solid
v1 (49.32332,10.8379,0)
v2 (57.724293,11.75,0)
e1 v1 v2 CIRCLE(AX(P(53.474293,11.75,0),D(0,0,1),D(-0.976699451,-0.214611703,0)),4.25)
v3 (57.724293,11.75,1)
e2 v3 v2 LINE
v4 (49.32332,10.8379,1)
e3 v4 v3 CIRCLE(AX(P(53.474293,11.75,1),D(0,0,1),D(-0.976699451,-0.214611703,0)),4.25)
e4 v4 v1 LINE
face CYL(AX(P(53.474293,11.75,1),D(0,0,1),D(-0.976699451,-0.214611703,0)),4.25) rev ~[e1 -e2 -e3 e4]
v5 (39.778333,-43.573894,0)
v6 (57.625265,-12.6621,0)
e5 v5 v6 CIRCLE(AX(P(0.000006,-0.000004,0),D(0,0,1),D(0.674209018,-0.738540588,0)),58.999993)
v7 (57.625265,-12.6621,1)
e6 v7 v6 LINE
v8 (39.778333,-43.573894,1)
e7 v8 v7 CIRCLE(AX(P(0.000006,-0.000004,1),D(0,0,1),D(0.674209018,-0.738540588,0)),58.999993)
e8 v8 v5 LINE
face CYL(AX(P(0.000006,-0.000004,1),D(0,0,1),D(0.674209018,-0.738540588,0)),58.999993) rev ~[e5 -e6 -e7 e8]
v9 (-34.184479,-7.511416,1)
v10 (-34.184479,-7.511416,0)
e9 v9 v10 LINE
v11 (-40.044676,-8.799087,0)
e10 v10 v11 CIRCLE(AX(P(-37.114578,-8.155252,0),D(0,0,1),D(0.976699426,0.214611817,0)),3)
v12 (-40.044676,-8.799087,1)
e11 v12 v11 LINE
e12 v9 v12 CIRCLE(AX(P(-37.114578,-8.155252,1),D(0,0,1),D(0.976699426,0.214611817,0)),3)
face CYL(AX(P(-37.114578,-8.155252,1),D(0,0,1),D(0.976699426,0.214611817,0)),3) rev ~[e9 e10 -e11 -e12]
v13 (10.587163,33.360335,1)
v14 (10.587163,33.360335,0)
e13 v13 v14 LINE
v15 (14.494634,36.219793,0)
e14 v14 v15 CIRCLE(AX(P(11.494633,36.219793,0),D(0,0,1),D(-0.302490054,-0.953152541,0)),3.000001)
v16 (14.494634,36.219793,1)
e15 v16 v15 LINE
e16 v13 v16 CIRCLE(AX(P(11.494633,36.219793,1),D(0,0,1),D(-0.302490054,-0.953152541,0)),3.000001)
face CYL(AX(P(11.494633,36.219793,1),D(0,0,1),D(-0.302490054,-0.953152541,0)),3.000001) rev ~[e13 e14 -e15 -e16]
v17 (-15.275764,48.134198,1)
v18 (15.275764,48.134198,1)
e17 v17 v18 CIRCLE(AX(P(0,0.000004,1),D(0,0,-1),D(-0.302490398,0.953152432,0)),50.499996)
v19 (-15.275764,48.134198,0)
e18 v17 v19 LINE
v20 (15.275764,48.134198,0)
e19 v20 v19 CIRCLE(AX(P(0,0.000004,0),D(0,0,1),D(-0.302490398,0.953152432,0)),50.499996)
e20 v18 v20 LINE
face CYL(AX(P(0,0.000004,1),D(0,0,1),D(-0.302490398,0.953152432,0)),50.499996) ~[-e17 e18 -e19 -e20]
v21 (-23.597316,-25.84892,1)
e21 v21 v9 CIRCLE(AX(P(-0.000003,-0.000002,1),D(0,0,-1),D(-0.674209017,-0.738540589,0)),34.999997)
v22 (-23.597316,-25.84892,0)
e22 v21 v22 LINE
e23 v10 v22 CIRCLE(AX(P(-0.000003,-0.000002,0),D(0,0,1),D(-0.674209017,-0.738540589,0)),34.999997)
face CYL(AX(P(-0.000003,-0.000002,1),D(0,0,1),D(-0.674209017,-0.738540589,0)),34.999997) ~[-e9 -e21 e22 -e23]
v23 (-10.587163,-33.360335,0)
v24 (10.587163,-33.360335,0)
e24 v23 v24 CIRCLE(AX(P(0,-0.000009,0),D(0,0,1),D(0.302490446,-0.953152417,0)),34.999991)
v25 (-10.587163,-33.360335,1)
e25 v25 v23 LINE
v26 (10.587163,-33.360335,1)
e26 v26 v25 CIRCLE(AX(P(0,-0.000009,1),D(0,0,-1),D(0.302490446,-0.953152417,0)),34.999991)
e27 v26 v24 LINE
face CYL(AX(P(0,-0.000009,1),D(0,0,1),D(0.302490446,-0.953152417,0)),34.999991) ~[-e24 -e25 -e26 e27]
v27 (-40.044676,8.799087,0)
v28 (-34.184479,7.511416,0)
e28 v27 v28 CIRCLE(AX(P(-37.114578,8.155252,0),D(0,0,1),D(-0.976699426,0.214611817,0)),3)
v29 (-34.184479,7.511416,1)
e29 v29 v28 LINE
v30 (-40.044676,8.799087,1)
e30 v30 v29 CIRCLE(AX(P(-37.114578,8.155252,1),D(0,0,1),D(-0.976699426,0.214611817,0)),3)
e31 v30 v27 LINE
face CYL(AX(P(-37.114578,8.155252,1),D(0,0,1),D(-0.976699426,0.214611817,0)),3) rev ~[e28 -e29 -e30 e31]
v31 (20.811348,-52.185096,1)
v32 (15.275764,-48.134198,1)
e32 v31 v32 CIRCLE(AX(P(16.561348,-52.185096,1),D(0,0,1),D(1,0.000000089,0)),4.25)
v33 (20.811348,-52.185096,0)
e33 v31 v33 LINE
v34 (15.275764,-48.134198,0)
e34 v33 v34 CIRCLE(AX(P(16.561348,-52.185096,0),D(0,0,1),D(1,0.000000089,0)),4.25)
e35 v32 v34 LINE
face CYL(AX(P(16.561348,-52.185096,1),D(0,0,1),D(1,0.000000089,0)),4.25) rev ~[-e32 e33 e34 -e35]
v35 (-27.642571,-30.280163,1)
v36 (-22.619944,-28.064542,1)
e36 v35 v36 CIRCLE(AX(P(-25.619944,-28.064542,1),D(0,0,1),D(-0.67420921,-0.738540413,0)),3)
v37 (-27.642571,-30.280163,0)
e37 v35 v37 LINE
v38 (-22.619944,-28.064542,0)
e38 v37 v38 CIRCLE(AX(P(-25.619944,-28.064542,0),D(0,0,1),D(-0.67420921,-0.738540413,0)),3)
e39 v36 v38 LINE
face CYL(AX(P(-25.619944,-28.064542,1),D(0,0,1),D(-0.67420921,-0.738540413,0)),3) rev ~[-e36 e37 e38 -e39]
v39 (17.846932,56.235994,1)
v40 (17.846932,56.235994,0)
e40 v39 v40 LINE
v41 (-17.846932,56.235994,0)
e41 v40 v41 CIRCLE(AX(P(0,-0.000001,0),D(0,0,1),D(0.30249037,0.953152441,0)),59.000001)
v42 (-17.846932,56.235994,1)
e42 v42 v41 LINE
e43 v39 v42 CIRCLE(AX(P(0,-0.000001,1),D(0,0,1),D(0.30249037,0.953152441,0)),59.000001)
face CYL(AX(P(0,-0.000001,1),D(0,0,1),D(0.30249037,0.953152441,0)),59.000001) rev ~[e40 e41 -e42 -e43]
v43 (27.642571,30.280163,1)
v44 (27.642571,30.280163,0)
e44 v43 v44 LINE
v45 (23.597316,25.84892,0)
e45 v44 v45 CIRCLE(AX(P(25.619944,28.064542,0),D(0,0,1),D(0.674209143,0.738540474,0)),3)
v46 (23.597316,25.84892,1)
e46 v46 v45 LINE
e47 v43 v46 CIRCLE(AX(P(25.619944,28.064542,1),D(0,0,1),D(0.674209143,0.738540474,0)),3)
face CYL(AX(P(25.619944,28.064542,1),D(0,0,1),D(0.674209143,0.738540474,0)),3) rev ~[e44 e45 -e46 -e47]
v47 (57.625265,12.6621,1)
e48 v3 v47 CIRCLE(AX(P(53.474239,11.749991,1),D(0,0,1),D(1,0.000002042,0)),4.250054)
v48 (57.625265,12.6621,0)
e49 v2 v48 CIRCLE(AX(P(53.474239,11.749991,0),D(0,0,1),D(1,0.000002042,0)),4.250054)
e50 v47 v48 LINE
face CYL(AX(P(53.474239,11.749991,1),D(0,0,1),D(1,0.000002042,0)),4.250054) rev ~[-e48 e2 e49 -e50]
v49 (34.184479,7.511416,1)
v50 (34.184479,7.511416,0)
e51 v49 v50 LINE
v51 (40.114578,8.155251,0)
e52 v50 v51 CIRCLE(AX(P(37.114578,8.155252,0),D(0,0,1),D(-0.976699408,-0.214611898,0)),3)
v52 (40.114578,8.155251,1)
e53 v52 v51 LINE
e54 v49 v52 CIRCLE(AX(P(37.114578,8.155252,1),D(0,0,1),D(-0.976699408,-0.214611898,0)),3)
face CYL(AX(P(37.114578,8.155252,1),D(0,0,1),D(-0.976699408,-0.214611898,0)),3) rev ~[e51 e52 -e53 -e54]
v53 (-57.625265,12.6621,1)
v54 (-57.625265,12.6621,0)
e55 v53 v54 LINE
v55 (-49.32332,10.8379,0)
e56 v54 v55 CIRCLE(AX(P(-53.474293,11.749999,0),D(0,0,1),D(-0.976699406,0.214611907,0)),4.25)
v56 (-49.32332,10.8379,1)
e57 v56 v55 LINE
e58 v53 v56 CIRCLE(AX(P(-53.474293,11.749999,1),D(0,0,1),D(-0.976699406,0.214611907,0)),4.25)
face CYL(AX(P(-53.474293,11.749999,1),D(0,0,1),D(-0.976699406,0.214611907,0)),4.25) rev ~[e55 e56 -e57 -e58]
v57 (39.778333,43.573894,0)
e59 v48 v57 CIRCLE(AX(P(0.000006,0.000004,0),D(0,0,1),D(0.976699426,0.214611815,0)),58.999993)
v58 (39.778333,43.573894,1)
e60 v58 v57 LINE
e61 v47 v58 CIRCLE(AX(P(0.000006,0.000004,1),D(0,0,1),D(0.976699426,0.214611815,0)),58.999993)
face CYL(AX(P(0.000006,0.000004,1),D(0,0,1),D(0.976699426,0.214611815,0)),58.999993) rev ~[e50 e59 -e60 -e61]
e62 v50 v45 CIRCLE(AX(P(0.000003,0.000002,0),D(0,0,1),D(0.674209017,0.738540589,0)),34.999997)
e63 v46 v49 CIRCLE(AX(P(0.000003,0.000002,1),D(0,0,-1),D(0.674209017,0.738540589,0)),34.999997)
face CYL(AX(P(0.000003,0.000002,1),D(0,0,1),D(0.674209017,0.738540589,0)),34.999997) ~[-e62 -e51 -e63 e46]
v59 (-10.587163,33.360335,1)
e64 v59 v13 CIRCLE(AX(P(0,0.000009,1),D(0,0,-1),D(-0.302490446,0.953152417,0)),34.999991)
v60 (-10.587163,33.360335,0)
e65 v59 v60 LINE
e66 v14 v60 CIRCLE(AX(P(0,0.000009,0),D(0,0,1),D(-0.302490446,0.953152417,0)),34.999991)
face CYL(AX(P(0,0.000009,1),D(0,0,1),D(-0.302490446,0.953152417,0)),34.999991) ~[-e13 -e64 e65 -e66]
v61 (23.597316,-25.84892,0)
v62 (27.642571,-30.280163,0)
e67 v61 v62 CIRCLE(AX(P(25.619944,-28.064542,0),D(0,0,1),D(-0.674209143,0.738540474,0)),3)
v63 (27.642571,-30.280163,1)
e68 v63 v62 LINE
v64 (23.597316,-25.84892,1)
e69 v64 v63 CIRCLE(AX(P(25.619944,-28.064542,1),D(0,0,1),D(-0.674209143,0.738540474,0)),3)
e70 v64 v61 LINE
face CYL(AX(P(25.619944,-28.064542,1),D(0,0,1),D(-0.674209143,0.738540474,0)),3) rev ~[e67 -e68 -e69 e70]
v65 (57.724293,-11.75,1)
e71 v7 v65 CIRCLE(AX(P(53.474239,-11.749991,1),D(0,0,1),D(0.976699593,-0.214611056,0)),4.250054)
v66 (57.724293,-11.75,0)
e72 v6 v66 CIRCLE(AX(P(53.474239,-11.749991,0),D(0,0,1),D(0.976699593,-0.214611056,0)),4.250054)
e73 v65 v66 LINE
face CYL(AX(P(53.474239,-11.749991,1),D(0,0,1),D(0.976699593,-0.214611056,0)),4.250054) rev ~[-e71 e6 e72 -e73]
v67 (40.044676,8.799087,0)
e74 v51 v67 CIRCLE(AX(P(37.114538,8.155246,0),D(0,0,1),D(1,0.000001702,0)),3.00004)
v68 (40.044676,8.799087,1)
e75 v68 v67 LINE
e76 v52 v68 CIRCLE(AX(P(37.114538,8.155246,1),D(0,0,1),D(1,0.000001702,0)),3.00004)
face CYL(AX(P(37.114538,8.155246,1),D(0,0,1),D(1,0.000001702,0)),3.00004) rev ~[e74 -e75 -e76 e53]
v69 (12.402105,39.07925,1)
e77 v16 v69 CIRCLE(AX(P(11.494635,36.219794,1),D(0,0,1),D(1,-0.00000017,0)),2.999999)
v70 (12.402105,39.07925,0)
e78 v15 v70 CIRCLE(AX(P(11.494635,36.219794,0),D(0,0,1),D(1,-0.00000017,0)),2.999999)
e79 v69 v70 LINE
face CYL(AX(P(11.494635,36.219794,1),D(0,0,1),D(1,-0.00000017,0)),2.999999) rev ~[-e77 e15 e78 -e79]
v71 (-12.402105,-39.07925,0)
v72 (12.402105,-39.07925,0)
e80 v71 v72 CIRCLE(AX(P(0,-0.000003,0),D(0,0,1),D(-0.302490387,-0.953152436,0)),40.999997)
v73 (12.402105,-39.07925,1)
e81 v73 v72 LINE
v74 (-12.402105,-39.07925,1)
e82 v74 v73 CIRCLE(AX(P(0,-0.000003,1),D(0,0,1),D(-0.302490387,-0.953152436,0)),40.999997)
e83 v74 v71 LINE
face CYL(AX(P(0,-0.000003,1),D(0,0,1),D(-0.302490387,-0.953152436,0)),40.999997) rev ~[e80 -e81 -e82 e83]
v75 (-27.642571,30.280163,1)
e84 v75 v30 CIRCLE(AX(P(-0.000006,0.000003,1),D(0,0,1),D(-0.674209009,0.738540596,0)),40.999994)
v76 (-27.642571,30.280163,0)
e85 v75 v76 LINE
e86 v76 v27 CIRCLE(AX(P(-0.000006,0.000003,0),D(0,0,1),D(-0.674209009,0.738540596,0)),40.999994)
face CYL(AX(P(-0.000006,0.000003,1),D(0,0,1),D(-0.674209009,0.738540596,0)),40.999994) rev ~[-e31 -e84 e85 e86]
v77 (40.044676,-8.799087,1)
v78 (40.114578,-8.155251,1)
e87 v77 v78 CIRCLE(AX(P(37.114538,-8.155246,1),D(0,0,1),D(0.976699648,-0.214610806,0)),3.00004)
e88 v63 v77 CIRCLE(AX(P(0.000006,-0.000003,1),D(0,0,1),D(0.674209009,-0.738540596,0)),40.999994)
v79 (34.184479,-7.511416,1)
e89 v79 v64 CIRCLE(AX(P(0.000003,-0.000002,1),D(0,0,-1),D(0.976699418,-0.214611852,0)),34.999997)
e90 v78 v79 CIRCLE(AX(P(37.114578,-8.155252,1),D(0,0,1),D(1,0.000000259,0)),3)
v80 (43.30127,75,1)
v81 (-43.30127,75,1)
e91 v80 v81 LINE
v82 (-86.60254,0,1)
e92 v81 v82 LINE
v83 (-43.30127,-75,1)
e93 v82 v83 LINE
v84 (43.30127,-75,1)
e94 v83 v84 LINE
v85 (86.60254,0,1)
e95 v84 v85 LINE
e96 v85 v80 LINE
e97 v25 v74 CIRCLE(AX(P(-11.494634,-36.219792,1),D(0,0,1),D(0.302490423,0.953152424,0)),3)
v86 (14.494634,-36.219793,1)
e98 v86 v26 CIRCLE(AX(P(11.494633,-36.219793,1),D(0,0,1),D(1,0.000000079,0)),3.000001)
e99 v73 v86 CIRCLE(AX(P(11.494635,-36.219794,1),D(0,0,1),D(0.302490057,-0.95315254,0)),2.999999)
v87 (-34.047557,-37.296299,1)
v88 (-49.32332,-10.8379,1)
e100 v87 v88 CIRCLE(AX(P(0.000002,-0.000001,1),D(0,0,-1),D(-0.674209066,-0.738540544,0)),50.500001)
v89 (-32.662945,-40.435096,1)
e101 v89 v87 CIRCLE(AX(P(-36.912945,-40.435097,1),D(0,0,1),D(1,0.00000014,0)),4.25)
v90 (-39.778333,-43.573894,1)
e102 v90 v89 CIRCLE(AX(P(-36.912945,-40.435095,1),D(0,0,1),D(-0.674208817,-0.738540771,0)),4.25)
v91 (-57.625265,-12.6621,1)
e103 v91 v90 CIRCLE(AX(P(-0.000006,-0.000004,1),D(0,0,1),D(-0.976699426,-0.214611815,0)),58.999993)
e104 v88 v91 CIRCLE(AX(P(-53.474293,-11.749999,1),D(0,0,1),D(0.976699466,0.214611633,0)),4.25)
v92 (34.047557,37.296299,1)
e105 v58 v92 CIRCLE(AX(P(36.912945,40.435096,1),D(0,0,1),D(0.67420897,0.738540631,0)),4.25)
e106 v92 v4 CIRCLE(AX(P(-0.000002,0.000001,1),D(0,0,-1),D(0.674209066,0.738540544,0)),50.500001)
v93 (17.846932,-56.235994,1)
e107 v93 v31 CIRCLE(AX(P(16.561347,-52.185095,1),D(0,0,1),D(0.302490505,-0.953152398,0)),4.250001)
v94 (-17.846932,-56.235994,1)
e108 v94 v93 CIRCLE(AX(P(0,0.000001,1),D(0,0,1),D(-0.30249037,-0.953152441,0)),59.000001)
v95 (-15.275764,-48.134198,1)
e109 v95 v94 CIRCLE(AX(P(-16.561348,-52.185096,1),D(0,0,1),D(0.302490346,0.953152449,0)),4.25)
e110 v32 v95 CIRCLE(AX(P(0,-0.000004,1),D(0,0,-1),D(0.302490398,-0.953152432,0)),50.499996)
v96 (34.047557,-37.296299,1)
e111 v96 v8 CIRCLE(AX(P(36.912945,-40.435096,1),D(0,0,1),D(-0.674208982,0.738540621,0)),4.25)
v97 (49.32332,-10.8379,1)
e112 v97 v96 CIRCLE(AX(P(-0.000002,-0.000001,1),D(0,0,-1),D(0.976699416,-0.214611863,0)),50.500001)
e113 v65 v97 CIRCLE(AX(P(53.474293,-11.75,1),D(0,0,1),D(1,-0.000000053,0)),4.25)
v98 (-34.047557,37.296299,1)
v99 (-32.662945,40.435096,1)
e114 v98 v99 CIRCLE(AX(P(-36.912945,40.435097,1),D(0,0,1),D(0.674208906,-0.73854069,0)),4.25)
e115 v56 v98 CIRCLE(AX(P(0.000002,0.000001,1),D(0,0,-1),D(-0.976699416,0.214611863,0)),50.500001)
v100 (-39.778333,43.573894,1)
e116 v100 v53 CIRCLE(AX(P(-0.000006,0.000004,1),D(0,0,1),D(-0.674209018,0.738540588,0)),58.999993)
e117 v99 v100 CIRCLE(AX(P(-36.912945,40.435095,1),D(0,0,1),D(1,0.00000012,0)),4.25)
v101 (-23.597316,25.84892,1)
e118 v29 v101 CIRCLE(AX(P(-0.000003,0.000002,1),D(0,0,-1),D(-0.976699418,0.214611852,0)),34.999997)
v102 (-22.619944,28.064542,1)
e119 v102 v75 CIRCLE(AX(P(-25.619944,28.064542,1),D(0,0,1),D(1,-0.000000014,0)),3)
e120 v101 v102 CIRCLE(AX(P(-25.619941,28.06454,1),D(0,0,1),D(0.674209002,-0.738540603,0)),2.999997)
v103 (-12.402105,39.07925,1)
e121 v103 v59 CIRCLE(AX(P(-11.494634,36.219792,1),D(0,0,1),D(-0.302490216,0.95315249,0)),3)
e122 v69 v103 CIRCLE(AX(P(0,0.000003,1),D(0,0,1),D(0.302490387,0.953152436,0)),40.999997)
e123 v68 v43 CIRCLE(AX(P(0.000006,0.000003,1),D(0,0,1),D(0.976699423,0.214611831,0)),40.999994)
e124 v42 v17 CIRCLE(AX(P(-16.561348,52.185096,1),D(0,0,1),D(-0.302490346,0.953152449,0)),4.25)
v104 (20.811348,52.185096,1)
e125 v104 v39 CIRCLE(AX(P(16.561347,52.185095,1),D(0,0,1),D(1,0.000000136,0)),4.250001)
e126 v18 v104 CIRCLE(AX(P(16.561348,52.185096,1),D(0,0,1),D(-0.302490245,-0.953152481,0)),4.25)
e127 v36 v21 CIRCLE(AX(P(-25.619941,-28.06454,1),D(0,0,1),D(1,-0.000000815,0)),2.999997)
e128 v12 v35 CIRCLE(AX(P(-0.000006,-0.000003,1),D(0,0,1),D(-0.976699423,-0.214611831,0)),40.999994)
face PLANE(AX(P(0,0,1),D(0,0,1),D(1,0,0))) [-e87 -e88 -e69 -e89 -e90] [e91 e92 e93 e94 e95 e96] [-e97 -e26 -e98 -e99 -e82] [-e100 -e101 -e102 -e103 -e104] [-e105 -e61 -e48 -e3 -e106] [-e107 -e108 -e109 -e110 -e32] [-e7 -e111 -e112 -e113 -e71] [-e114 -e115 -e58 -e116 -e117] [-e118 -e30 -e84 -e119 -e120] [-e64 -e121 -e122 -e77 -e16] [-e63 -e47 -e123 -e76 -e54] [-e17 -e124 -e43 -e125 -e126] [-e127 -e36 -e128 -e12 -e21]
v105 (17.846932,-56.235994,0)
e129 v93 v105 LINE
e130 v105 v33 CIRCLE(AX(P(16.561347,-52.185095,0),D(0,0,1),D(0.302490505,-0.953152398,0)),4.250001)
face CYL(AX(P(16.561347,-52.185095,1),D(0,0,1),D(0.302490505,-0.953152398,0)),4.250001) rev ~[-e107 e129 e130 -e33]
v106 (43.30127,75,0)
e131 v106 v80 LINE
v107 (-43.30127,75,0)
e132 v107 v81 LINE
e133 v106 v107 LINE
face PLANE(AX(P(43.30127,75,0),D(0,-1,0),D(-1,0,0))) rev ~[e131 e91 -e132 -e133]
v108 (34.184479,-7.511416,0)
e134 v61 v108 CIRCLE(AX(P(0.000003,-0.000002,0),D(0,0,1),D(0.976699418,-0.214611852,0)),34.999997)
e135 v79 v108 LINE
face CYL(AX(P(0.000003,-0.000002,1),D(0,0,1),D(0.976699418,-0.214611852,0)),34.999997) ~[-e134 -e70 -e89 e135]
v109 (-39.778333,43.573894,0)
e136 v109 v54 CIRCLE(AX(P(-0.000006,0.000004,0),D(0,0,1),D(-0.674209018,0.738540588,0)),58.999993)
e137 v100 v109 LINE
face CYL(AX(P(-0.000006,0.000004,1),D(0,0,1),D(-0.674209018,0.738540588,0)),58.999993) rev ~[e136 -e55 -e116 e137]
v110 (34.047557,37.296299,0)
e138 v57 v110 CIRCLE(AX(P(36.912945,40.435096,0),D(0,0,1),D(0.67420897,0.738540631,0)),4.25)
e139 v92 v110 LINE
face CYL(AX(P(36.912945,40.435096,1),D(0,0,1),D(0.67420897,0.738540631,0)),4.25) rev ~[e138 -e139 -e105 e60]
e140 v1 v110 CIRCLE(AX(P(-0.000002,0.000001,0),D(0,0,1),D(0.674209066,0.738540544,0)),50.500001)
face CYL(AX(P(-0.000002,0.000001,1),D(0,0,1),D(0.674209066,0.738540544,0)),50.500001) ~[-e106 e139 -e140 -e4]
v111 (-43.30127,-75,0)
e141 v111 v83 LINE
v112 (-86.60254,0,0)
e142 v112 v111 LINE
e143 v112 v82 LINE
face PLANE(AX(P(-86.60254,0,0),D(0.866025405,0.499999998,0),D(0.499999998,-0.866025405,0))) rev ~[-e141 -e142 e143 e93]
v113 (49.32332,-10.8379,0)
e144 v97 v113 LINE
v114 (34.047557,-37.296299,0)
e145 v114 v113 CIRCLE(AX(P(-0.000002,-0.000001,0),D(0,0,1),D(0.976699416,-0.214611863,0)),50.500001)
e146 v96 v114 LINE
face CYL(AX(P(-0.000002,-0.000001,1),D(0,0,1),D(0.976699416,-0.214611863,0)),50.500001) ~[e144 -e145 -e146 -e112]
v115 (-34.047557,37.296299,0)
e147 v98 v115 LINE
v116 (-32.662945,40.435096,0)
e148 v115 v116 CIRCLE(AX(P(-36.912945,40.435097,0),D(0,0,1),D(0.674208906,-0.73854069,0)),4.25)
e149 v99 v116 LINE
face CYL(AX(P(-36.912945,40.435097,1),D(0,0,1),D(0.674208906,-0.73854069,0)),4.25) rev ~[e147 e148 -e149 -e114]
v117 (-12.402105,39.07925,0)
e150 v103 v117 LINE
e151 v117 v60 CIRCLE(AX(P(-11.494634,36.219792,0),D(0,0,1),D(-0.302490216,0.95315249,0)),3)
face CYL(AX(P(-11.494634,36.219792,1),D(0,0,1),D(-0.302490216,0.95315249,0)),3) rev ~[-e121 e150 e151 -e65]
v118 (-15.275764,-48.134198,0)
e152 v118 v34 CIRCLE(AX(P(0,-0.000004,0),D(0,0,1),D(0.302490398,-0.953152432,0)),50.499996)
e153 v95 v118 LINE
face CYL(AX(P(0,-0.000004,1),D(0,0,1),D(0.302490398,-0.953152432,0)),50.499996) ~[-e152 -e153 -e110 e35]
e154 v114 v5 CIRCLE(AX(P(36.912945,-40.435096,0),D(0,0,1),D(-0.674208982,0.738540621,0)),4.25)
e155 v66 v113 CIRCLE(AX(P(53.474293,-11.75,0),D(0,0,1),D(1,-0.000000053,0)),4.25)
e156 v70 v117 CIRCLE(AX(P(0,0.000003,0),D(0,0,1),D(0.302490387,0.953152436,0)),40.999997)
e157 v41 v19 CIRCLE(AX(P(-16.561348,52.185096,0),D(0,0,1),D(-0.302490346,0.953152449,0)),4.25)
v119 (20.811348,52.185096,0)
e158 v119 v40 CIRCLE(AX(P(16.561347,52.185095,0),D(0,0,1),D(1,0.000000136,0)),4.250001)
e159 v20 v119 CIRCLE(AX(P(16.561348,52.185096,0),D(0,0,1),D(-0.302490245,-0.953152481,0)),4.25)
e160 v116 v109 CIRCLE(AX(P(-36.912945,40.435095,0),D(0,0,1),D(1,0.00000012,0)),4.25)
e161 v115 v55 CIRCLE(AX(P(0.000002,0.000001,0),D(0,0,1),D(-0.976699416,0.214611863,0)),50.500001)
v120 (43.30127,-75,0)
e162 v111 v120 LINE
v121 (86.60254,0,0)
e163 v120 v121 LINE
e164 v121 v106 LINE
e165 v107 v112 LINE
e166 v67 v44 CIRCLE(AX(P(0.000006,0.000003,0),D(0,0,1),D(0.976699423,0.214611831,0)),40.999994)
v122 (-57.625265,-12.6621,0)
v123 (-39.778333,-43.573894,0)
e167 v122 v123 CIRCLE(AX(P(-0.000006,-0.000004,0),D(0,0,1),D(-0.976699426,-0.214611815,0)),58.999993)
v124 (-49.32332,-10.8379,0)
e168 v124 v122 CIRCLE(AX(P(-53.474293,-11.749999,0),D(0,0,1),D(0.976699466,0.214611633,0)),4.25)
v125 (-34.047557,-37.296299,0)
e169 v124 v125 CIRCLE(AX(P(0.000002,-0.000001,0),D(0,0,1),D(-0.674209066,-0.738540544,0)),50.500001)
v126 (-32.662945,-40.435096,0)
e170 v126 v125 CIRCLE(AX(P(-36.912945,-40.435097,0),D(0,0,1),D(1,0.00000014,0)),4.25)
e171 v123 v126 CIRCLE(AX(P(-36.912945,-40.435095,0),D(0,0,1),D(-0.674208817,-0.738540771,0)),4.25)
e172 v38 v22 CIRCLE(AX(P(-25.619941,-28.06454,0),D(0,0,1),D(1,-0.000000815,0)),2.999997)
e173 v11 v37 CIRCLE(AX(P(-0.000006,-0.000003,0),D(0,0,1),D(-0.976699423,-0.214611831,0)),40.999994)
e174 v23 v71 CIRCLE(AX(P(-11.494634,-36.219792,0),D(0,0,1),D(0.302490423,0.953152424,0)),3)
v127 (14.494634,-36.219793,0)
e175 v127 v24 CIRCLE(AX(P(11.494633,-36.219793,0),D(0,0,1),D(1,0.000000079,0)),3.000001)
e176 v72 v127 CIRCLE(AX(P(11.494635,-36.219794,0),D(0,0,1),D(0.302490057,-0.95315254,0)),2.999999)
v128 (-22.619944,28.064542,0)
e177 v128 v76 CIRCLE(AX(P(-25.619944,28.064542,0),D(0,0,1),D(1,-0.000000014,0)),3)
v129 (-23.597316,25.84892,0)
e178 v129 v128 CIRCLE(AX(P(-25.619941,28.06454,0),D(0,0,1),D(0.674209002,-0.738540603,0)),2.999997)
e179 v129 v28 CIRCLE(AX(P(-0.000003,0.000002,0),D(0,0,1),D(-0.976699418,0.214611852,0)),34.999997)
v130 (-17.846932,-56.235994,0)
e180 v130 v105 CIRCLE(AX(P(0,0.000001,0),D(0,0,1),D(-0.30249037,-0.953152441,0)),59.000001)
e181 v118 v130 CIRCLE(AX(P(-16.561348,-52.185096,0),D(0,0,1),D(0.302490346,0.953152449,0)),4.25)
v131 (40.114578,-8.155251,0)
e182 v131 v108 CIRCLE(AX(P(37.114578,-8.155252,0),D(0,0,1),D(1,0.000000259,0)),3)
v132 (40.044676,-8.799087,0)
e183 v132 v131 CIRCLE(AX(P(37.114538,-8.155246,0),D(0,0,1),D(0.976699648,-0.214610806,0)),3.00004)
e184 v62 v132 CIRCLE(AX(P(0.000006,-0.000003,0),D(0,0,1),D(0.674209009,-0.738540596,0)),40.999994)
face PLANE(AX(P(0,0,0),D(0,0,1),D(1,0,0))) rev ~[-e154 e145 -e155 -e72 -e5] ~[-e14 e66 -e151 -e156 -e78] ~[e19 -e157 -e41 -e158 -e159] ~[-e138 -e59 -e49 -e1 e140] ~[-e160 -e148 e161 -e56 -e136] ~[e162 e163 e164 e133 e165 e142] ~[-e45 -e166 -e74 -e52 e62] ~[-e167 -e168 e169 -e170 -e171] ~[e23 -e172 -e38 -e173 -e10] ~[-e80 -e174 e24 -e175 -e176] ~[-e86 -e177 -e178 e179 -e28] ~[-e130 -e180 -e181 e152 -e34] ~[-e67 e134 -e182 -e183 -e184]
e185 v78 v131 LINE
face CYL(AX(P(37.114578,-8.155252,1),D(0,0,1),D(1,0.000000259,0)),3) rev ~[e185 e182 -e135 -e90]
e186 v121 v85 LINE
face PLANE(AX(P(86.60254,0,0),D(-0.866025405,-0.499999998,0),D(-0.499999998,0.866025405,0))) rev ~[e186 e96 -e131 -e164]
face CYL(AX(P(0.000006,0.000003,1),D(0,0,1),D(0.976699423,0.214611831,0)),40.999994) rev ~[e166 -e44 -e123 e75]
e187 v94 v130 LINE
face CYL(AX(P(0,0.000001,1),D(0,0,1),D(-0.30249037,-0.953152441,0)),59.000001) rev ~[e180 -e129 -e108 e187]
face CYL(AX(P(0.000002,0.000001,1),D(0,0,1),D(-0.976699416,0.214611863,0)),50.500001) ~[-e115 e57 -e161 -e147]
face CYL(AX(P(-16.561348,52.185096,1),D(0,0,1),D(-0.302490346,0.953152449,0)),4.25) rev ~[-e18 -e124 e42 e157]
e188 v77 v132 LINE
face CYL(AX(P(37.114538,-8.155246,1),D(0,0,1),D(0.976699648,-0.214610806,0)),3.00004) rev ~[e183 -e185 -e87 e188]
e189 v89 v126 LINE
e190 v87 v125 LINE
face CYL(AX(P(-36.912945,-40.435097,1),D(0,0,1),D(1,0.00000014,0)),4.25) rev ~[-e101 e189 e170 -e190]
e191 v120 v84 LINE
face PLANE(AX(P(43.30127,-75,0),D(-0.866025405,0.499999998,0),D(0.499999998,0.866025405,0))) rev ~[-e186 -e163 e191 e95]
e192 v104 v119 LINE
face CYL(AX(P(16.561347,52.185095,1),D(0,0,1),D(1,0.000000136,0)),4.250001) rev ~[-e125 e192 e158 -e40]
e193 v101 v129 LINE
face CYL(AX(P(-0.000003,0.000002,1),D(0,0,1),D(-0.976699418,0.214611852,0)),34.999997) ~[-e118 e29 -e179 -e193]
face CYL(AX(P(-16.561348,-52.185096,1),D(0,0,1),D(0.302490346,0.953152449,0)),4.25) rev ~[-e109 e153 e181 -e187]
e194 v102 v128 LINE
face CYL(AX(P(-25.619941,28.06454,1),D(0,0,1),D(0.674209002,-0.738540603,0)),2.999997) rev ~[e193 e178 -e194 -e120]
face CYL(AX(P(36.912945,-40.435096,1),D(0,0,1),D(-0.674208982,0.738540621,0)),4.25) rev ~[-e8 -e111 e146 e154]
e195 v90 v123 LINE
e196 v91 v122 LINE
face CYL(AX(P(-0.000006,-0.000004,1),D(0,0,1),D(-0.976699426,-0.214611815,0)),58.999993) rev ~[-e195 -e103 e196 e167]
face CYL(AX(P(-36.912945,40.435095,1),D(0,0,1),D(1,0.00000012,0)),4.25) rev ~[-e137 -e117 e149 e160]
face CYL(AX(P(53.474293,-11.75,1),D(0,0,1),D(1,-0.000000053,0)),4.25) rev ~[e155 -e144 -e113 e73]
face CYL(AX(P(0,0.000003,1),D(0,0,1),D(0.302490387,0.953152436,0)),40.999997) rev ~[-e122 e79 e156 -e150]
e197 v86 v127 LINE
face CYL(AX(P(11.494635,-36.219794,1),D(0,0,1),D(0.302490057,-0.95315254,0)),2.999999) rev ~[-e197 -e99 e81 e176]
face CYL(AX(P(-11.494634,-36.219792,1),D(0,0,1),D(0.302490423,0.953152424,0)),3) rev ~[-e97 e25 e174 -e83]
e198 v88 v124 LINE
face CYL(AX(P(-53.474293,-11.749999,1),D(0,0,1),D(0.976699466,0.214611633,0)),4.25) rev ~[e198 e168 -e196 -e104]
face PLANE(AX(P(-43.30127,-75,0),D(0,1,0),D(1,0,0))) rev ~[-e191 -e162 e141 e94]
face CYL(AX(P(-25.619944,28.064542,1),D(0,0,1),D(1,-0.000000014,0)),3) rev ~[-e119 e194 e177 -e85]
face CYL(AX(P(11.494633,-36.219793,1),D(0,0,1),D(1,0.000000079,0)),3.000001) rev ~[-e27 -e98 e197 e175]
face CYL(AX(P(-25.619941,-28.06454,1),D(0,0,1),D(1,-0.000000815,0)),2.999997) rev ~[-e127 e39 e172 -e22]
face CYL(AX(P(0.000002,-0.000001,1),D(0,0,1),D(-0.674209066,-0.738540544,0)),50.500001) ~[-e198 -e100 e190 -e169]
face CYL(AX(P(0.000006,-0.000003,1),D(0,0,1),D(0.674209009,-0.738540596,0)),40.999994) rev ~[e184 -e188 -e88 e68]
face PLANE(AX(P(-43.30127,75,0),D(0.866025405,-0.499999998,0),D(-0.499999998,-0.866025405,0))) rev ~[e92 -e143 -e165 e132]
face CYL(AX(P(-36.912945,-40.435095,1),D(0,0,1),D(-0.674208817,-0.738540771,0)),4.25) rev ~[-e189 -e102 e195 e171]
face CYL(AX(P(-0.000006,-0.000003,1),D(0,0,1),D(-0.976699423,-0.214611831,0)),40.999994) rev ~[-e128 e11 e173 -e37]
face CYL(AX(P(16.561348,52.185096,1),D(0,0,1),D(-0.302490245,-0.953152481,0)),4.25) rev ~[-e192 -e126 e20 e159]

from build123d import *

# Parameters (mm, degrees)
F1_DEPTH = 1
F3_DEPTH = 1.001


with BuildPart() as f1:
    # F0 (on Top) → F1 (new body)
    with BuildSketch(Plane.XY):
        Polygon((86.60254, 0), (43.30127, 75), (-43.30127, 75), (-86.60254, 0), (-43.30127, -75), (43.30127, -75), align=None)
    extrude(amount=F1_DEPTH)

    # F2 (on face) → F3 (cut, through all)
    with BuildSketch(Plane.XY.offset(1)):
        with BuildLine():
            ThreePointArc((49.32332, 10.8379), (52.562192, 15.900973), (57.625265, 12.6621))
            ThreePointArc((57.625265, 12.6621), (51.095499, 29.5), (39.778333, 43.573894))
            ThreePointArc((39.778333, 43.573894), (40.801415, 42.150409), (41.162945, 40.435096))
            ThreePointArc((41.162945, 40.435096), (38.628258, 36.546626), (34.047557, 37.296299))
            ThreePointArc((34.047557, 37.296299), (43.734283, 25.25), (49.32332, 10.8379))
        make_face()
        with BuildLine():
            ThreePointArc((57.724293, 11.75), (57.699463, 12.20873), (57.625265, 12.6621))
            ThreePointArc((57.625265, 12.6621), (52.562192, 15.900973), (49.32332, 10.8379))
            ThreePointArc((49.32332, 10.8379), (53.933023, 7.524829), (57.724293, 11.75))
        make_face()
        with BuildLine():
            ThreePointArc((41.162945, 40.435096), (40.801415, 42.150409), (39.778333, 43.573894))
            ThreePointArc((39.778333, 43.573894), (33.774148, 43.300485), (34.047557, 37.296299))
            ThreePointArc((34.047557, 37.296299), (38.628258, 36.546626), (41.162945, 40.435096))
        make_face()
        with BuildLine():
            ThreePointArc((-15.275764, 48.134198), (-13.131608, 49.675239), (-12.311348, 52.185096))
            ThreePointArc((-12.311348, 52.185096), (-14.051491, 55.614836), (-17.846932, 56.235994))
            ThreePointArc((-17.846932, 56.235994), (-20.612246, 50.899512), (-15.275764, 48.134198))
        make_face()
        with BuildLine():
            ThreePointArc((-17.846932, 56.235994), (-14.051491, 55.614836), (-12.311348, 52.185096))
            ThreePointArc((-12.311348, 52.185096), (-13.131608, 49.675239), (-15.275764, 48.134198))
            ThreePointArc((-15.275764, 48.134198), (0, 50.5), (15.275764, 48.134198))
            ThreePointArc((15.275764, 48.134198), (12.51045, 53.47068), (17.846932, 56.235994))
            ThreePointArc((17.846932, 56.235994), (0, 59), (-17.846932, 56.235994))
        make_face()
        with BuildLine():
            ThreePointArc((20.811348, 52.185096), (19.991088, 54.694953), (17.846932, 56.235994))
            ThreePointArc((17.846932, 56.235994), (12.51045, 53.47068), (15.275764, 48.134198))
            ThreePointArc((15.275764, 48.134198), (19.071205, 48.755356), (20.811348, 52.185096))
        make_face()
        with BuildLine():
            ThreePointArc((-49.32332, 10.8379), (-49.249122, 11.29127), (-49.224293, 11.75))
            ThreePointArc((-49.224293, 11.75), (-53.015563, 15.975171), (-57.625265, 12.6621))
            ThreePointArc((-57.625265, 12.6621), (-54.386393, 7.599027), (-49.32332, 10.8379))
        make_face()
        with BuildLine():
            ThreePointArc((-57.625265, 12.6621), (-53.015563, 15.975171), (-49.224293, 11.75))
            ThreePointArc((-49.224293, 11.75), (-49.249122, 11.29127), (-49.32332, 10.8379))
            ThreePointArc((-49.32332, 10.8379), (-43.734283, 25.25), (-34.047557, 37.296299))
            ThreePointArc((-34.047557, 37.296299), (-40.051742, 37.569708), (-39.778333, 43.573894))
            ThreePointArc((-39.778333, 43.573894), (-51.095499, 29.5), (-57.625265, 12.6621))
        make_face()
        with BuildLine():
            ThreePointArc((-32.662945, 40.435096), (-35.197632, 44.323566), (-39.778333, 43.573894))
            ThreePointArc((-39.778333, 43.573894), (-40.051742, 37.569708), (-34.047557, 37.296299))
            ThreePointArc((-34.047557, 37.296299), (-33.024475, 38.719783), (-32.662945, 40.435096))
        make_face()
        with BuildLine():
            ThreePointArc((-39.778333, -43.573894), (-35.197632, -44.323566), (-32.662945, -40.435096))
            ThreePointArc((-32.662945, -40.435096), (-33.024475, -38.719783), (-34.047557, -37.296299))
            ThreePointArc((-34.047557, -37.296299), (-40.051742, -37.569708), (-39.778333, -43.573894))
        make_face()
        with BuildLine():
            ThreePointArc((-39.778333, -43.573894), (-40.051742, -37.569708), (-34.047557, -37.296299))
            ThreePointArc((-34.047557, -37.296299), (-43.734283, -25.25), (-49.32332, -10.8379))
            ThreePointArc((-49.32332, -10.8379), (-49.249122, -11.29127), (-49.224293, -11.75))
            ThreePointArc((-49.224293, -11.75), (-53.015563, -15.975171), (-57.625265, -12.6621))
            ThreePointArc((-57.625265, -12.6621), (-51.095499, -29.5), (-39.778333, -43.573894))
        make_face()
        with BuildLine():
            ThreePointArc((-49.224293, -11.75), (-49.249122, -11.29127), (-49.32332, -10.8379))
            ThreePointArc((-49.32332, -10.8379), (-54.386393, -7.599027), (-57.625265, -12.6621))
            ThreePointArc((-57.625265, -12.6621), (-53.015563, -15.975171), (-49.224293, -11.75))
        make_face()
        with BuildLine():
            ThreePointArc((17.846932, -56.235994), (19.991088, -54.694953), (20.811348, -52.185096))
            ThreePointArc((20.811348, -52.185096), (19.071205, -48.755356), (15.275764, -48.134198))
            ThreePointArc((15.275764, -48.134198), (12.51045, -53.47068), (17.846932, -56.235994))
        make_face()
        with BuildLine():
            ThreePointArc((17.846932, -56.235994), (12.51045, -53.47068), (15.275764, -48.134198))
            ThreePointArc((15.275764, -48.134198), (0, -50.5), (-15.275764, -48.134198))
            ThreePointArc((-15.275764, -48.134198), (-13.131608, -49.675239), (-12.311348, -52.185096))
            ThreePointArc((-12.311348, -52.185096), (-14.051491, -55.614836), (-17.846932, -56.235994))
            ThreePointArc((-17.846932, -56.235994), (0, -59), (17.846932, -56.235994))
        make_face()
        with BuildLine():
            ThreePointArc((-12.311348, -52.185096), (-13.131608, -49.675239), (-15.275764, -48.134198))
            ThreePointArc((-15.275764, -48.134198), (-20.612246, -50.899512), (-17.846932, -56.235994))
            ThreePointArc((-17.846932, -56.235994), (-14.051491, -55.614836), (-12.311348, -52.185096))
        make_face()
        with BuildLine():
            ThreePointArc((57.625265, -12.6621), (57.699463, -12.20873), (57.724293, -11.75))
            ThreePointArc((57.724293, -11.75), (53.933023, -7.524829), (49.32332, -10.8379))
            ThreePointArc((49.32332, -10.8379), (52.562192, -15.900973), (57.625265, -12.6621))
        make_face()
        with BuildLine():
            ThreePointArc((57.625265, -12.6621), (52.562192, -15.900973), (49.32332, -10.8379))
            ThreePointArc((49.32332, -10.8379), (43.734283, -25.25), (34.047557, -37.296299))
            ThreePointArc((34.047557, -37.296299), (38.628258, -36.546626), (41.162945, -40.435096))
            ThreePointArc((41.162945, -40.435096), (40.801415, -42.150409), (39.778333, -43.573894))
            ThreePointArc((39.778333, -43.573894), (51.095499, -29.5), (57.625265, -12.6621))
        make_face()
        with BuildLine():
            ThreePointArc((41.162945, -40.435096), (38.628258, -36.546626), (34.047557, -37.296299))
            ThreePointArc((34.047557, -37.296299), (33.774148, -43.300485), (39.778333, -43.573894))
            ThreePointArc((39.778333, -43.573894), (40.801415, -42.150409), (41.162945, -40.435096))
        make_face()
        with BuildLine():
            ThreePointArc((34.184479, 7.511416), (36.470742, 11.085349), (40.044676, 8.799087))
            ThreePointArc((40.044676, 8.799087), (35.507042, 20.5), (27.642571, 30.280163))
            ThreePointArc((27.642571, 30.280163), (28.364746, 29.275351), (28.619944, 28.064542))
            ThreePointArc((28.619944, 28.064542), (26.830753, 25.319739), (23.597316, 25.84892))
            ThreePointArc((23.597316, 25.84892), (30.310889, 17.5), (34.184479, 7.511416))
        make_face()
        with BuildLine():
            ThreePointArc((40.114578, 8.155251), (40.097051, 8.479061), (40.044676, 8.799087))
            ThreePointArc((40.044676, 8.799087), (36.470742, 11.085349), (34.184479, 7.511416))
            ThreePointArc((34.184479, 7.511416), (37.438387, 5.172778), (40.114578, 8.155251))
        make_face()
        with BuildLine():
            ThreePointArc((28.619944, 28.064542), (28.364746, 29.275351), (27.642571, 30.280163))
            ThreePointArc((27.642571, 30.280163), (23.404322, 30.087169), (23.597316, 25.84892))
            ThreePointArc((23.597316, 25.84892), (26.830753, 25.319739), (28.619944, 28.064542))
        make_face()
        with BuildLine():
            ThreePointArc((-10.587163, 33.360335), (-9.073641, 34.448129), (-8.494634, 36.219793))
            ThreePointArc((-8.494634, 36.219793), (-9.72297, 38.640786), (-12.402105, 39.07925))
            ThreePointArc((-12.402105, 39.07925), (-14.354092, 35.312322), (-10.587163, 33.360335))
        make_face()
        with BuildLine():
            ThreePointArc((-12.402105, 39.07925), (-9.72297, 38.640786), (-8.494634, 36.219793))
            ThreePointArc((-8.494634, 36.219793), (-9.073641, 34.448129), (-10.587163, 33.360335))
            ThreePointArc((-10.587163, 33.360335), (0, 35), (10.587163, 33.360335))
            ThreePointArc((10.587163, 33.360335), (8.635177, 37.127264), (12.402105, 39.07925))
            ThreePointArc((12.402105, 39.07925), (0, 41), (-12.402105, 39.07925))
        make_face()
        with BuildLine():
            ThreePointArc((14.494634, 36.219793), (13.915627, 37.991457), (12.402105, 39.07925))
            ThreePointArc((12.402105, 39.07925), (8.635177, 37.127264), (10.587163, 33.360335))
            ThreePointArc((10.587163, 33.360335), (13.266298, 33.7988), (14.494634, 36.219793))
        make_face()
        with BuildLine():
            ThreePointArc((-34.184479, 7.511416), (-34.132104, 7.831442), (-34.114578, 8.155251))
            ThreePointArc((-34.114578, 8.155251), (-36.790768, 11.137725), (-40.044676, 8.799087))
            ThreePointArc((-40.044676, 8.799087), (-37.758413, 5.225153), (-34.184479, 7.511416))
        make_face()
        with BuildLine():
            ThreePointArc((-40.044676, 8.799087), (-36.790768, 11.137725), (-34.114578, 8.155251))
            ThreePointArc((-34.114578, 8.155251), (-34.132104, 7.831442), (-34.184479, 7.511416))
            ThreePointArc((-34.184479, 7.511416), (-30.310889, 17.5), (-23.597316, 25.84892))
            ThreePointArc((-23.597316, 25.84892), (-27.835565, 26.041914), (-27.642571, 30.280163))
            ThreePointArc((-27.642571, 30.280163), (-35.507042, 20.5), (-40.044676, 8.799087))
        make_face()
        with BuildLine():
            ThreePointArc((-22.619944, 28.064542), (-24.409134, 30.809344), (-27.642571, 30.280163))
            ThreePointArc((-27.642571, 30.280163), (-27.835565, 26.041914), (-23.597316, 25.84892))
            ThreePointArc((-23.597316, 25.84892), (-22.875141, 26.853732), (-22.619944, 28.064542))
        make_face()
        with BuildLine():
            ThreePointArc((-27.642571, -30.280163), (-24.409134, -30.809344), (-22.619944, -28.064542))
            ThreePointArc((-22.619944, -28.064542), (-22.875141, -26.853732), (-23.597316, -25.84892))
            ThreePointArc((-23.597316, -25.84892), (-27.835565, -26.041914), (-27.642571, -30.280163))
        make_face()
        with BuildLine():
            ThreePointArc((-27.642571, -30.280163), (-27.835565, -26.041914), (-23.597316, -25.84892))
            ThreePointArc((-23.597316, -25.84892), (-30.310889, -17.5), (-34.184479, -7.511416))
            ThreePointArc((-34.184479, -7.511416), (-34.132104, -7.831442), (-34.114578, -8.155251))
            ThreePointArc((-34.114578, -8.155251), (-36.790768, -11.137725), (-40.044676, -8.799087))
            ThreePointArc((-40.044676, -8.799087), (-35.507042, -20.5), (-27.642571, -30.280163))
        make_face()
        with BuildLine():
            ThreePointArc((-34.114578, -8.155251), (-34.132104, -7.831442), (-34.184479, -7.511416))
            ThreePointArc((-34.184479, -7.511416), (-37.758413, -5.225153), (-40.044676, -8.799087))
            ThreePointArc((-40.044676, -8.799087), (-36.790768, -11.137725), (-34.114578, -8.155251))
        make_face()
        with BuildLine():
            ThreePointArc((12.402105, -39.07925), (13.915627, -37.991457), (14.494634, -36.219793))
            ThreePointArc((14.494634, -36.219793), (13.266298, -33.7988), (10.587163, -33.360335))
            ThreePointArc((10.587163, -33.360335), (8.635177, -37.127264), (12.402105, -39.07925))
        make_face()
        with BuildLine():
            ThreePointArc((12.402105, -39.07925), (8.635177, -37.127264), (10.587163, -33.360335))
            ThreePointArc((10.587163, -33.360335), (0, -35), (-10.587163, -33.360335))
            ThreePointArc((-10.587163, -33.360335), (-9.073641, -34.448129), (-8.494634, -36.219793))
            ThreePointArc((-8.494634, -36.219793), (-9.72297, -38.640786), (-12.402105, -39.07925))
            ThreePointArc((-12.402105, -39.07925), (0, -41), (12.402105, -39.07925))
        make_face()
        with BuildLine():
            ThreePointArc((-8.494634, -36.219793), (-9.073641, -34.448129), (-10.587163, -33.360335))
            ThreePointArc((-10.587163, -33.360335), (-14.354092, -35.312322), (-12.402105, -39.07925))
            ThreePointArc((-12.402105, -39.07925), (-9.72297, -38.640786), (-8.494634, -36.219793))
        make_face()
        with BuildLine():
            ThreePointArc((40.044676, -8.799087), (40.097051, -8.479061), (40.114578, -8.155251))
            ThreePointArc((40.114578, -8.155251), (37.438387, -5.172778), (34.184479, -7.511416))
            ThreePointArc((34.184479, -7.511416), (36.470742, -11.085349), (40.044676, -8.799087))
        make_face()
        with BuildLine():
            ThreePointArc((40.044676, -8.799087), (36.470742, -11.085349), (34.184479, -7.511416))
            ThreePointArc((34.184479, -7.511416), (30.310889, -17.5), (23.597316, -25.84892))
            ThreePointArc((23.597316, -25.84892), (26.830753, -25.319739), (28.619944, -28.064542))
            ThreePointArc((28.619944, -28.064542), (28.364746, -29.275351), (27.642571, -30.280163))
            ThreePointArc((27.642571, -30.280163), (35.507042, -20.5), (40.044676, -8.799087))
        make_face()
        with BuildLine():
            ThreePointArc((28.619944, -28.064542), (26.830753, -25.319739), (23.597316, -25.84892))
            ThreePointArc((23.597316, -25.84892), (23.404322, -30.087169), (27.642571, -30.280163))
            ThreePointArc((27.642571, -30.280163), (28.364746, -29.275351), (28.619944, -28.064542))
        make_face()
    extrude(amount=-F3_DEPTH, mode=Mode.SUBTRACT)


solid = f1.part
